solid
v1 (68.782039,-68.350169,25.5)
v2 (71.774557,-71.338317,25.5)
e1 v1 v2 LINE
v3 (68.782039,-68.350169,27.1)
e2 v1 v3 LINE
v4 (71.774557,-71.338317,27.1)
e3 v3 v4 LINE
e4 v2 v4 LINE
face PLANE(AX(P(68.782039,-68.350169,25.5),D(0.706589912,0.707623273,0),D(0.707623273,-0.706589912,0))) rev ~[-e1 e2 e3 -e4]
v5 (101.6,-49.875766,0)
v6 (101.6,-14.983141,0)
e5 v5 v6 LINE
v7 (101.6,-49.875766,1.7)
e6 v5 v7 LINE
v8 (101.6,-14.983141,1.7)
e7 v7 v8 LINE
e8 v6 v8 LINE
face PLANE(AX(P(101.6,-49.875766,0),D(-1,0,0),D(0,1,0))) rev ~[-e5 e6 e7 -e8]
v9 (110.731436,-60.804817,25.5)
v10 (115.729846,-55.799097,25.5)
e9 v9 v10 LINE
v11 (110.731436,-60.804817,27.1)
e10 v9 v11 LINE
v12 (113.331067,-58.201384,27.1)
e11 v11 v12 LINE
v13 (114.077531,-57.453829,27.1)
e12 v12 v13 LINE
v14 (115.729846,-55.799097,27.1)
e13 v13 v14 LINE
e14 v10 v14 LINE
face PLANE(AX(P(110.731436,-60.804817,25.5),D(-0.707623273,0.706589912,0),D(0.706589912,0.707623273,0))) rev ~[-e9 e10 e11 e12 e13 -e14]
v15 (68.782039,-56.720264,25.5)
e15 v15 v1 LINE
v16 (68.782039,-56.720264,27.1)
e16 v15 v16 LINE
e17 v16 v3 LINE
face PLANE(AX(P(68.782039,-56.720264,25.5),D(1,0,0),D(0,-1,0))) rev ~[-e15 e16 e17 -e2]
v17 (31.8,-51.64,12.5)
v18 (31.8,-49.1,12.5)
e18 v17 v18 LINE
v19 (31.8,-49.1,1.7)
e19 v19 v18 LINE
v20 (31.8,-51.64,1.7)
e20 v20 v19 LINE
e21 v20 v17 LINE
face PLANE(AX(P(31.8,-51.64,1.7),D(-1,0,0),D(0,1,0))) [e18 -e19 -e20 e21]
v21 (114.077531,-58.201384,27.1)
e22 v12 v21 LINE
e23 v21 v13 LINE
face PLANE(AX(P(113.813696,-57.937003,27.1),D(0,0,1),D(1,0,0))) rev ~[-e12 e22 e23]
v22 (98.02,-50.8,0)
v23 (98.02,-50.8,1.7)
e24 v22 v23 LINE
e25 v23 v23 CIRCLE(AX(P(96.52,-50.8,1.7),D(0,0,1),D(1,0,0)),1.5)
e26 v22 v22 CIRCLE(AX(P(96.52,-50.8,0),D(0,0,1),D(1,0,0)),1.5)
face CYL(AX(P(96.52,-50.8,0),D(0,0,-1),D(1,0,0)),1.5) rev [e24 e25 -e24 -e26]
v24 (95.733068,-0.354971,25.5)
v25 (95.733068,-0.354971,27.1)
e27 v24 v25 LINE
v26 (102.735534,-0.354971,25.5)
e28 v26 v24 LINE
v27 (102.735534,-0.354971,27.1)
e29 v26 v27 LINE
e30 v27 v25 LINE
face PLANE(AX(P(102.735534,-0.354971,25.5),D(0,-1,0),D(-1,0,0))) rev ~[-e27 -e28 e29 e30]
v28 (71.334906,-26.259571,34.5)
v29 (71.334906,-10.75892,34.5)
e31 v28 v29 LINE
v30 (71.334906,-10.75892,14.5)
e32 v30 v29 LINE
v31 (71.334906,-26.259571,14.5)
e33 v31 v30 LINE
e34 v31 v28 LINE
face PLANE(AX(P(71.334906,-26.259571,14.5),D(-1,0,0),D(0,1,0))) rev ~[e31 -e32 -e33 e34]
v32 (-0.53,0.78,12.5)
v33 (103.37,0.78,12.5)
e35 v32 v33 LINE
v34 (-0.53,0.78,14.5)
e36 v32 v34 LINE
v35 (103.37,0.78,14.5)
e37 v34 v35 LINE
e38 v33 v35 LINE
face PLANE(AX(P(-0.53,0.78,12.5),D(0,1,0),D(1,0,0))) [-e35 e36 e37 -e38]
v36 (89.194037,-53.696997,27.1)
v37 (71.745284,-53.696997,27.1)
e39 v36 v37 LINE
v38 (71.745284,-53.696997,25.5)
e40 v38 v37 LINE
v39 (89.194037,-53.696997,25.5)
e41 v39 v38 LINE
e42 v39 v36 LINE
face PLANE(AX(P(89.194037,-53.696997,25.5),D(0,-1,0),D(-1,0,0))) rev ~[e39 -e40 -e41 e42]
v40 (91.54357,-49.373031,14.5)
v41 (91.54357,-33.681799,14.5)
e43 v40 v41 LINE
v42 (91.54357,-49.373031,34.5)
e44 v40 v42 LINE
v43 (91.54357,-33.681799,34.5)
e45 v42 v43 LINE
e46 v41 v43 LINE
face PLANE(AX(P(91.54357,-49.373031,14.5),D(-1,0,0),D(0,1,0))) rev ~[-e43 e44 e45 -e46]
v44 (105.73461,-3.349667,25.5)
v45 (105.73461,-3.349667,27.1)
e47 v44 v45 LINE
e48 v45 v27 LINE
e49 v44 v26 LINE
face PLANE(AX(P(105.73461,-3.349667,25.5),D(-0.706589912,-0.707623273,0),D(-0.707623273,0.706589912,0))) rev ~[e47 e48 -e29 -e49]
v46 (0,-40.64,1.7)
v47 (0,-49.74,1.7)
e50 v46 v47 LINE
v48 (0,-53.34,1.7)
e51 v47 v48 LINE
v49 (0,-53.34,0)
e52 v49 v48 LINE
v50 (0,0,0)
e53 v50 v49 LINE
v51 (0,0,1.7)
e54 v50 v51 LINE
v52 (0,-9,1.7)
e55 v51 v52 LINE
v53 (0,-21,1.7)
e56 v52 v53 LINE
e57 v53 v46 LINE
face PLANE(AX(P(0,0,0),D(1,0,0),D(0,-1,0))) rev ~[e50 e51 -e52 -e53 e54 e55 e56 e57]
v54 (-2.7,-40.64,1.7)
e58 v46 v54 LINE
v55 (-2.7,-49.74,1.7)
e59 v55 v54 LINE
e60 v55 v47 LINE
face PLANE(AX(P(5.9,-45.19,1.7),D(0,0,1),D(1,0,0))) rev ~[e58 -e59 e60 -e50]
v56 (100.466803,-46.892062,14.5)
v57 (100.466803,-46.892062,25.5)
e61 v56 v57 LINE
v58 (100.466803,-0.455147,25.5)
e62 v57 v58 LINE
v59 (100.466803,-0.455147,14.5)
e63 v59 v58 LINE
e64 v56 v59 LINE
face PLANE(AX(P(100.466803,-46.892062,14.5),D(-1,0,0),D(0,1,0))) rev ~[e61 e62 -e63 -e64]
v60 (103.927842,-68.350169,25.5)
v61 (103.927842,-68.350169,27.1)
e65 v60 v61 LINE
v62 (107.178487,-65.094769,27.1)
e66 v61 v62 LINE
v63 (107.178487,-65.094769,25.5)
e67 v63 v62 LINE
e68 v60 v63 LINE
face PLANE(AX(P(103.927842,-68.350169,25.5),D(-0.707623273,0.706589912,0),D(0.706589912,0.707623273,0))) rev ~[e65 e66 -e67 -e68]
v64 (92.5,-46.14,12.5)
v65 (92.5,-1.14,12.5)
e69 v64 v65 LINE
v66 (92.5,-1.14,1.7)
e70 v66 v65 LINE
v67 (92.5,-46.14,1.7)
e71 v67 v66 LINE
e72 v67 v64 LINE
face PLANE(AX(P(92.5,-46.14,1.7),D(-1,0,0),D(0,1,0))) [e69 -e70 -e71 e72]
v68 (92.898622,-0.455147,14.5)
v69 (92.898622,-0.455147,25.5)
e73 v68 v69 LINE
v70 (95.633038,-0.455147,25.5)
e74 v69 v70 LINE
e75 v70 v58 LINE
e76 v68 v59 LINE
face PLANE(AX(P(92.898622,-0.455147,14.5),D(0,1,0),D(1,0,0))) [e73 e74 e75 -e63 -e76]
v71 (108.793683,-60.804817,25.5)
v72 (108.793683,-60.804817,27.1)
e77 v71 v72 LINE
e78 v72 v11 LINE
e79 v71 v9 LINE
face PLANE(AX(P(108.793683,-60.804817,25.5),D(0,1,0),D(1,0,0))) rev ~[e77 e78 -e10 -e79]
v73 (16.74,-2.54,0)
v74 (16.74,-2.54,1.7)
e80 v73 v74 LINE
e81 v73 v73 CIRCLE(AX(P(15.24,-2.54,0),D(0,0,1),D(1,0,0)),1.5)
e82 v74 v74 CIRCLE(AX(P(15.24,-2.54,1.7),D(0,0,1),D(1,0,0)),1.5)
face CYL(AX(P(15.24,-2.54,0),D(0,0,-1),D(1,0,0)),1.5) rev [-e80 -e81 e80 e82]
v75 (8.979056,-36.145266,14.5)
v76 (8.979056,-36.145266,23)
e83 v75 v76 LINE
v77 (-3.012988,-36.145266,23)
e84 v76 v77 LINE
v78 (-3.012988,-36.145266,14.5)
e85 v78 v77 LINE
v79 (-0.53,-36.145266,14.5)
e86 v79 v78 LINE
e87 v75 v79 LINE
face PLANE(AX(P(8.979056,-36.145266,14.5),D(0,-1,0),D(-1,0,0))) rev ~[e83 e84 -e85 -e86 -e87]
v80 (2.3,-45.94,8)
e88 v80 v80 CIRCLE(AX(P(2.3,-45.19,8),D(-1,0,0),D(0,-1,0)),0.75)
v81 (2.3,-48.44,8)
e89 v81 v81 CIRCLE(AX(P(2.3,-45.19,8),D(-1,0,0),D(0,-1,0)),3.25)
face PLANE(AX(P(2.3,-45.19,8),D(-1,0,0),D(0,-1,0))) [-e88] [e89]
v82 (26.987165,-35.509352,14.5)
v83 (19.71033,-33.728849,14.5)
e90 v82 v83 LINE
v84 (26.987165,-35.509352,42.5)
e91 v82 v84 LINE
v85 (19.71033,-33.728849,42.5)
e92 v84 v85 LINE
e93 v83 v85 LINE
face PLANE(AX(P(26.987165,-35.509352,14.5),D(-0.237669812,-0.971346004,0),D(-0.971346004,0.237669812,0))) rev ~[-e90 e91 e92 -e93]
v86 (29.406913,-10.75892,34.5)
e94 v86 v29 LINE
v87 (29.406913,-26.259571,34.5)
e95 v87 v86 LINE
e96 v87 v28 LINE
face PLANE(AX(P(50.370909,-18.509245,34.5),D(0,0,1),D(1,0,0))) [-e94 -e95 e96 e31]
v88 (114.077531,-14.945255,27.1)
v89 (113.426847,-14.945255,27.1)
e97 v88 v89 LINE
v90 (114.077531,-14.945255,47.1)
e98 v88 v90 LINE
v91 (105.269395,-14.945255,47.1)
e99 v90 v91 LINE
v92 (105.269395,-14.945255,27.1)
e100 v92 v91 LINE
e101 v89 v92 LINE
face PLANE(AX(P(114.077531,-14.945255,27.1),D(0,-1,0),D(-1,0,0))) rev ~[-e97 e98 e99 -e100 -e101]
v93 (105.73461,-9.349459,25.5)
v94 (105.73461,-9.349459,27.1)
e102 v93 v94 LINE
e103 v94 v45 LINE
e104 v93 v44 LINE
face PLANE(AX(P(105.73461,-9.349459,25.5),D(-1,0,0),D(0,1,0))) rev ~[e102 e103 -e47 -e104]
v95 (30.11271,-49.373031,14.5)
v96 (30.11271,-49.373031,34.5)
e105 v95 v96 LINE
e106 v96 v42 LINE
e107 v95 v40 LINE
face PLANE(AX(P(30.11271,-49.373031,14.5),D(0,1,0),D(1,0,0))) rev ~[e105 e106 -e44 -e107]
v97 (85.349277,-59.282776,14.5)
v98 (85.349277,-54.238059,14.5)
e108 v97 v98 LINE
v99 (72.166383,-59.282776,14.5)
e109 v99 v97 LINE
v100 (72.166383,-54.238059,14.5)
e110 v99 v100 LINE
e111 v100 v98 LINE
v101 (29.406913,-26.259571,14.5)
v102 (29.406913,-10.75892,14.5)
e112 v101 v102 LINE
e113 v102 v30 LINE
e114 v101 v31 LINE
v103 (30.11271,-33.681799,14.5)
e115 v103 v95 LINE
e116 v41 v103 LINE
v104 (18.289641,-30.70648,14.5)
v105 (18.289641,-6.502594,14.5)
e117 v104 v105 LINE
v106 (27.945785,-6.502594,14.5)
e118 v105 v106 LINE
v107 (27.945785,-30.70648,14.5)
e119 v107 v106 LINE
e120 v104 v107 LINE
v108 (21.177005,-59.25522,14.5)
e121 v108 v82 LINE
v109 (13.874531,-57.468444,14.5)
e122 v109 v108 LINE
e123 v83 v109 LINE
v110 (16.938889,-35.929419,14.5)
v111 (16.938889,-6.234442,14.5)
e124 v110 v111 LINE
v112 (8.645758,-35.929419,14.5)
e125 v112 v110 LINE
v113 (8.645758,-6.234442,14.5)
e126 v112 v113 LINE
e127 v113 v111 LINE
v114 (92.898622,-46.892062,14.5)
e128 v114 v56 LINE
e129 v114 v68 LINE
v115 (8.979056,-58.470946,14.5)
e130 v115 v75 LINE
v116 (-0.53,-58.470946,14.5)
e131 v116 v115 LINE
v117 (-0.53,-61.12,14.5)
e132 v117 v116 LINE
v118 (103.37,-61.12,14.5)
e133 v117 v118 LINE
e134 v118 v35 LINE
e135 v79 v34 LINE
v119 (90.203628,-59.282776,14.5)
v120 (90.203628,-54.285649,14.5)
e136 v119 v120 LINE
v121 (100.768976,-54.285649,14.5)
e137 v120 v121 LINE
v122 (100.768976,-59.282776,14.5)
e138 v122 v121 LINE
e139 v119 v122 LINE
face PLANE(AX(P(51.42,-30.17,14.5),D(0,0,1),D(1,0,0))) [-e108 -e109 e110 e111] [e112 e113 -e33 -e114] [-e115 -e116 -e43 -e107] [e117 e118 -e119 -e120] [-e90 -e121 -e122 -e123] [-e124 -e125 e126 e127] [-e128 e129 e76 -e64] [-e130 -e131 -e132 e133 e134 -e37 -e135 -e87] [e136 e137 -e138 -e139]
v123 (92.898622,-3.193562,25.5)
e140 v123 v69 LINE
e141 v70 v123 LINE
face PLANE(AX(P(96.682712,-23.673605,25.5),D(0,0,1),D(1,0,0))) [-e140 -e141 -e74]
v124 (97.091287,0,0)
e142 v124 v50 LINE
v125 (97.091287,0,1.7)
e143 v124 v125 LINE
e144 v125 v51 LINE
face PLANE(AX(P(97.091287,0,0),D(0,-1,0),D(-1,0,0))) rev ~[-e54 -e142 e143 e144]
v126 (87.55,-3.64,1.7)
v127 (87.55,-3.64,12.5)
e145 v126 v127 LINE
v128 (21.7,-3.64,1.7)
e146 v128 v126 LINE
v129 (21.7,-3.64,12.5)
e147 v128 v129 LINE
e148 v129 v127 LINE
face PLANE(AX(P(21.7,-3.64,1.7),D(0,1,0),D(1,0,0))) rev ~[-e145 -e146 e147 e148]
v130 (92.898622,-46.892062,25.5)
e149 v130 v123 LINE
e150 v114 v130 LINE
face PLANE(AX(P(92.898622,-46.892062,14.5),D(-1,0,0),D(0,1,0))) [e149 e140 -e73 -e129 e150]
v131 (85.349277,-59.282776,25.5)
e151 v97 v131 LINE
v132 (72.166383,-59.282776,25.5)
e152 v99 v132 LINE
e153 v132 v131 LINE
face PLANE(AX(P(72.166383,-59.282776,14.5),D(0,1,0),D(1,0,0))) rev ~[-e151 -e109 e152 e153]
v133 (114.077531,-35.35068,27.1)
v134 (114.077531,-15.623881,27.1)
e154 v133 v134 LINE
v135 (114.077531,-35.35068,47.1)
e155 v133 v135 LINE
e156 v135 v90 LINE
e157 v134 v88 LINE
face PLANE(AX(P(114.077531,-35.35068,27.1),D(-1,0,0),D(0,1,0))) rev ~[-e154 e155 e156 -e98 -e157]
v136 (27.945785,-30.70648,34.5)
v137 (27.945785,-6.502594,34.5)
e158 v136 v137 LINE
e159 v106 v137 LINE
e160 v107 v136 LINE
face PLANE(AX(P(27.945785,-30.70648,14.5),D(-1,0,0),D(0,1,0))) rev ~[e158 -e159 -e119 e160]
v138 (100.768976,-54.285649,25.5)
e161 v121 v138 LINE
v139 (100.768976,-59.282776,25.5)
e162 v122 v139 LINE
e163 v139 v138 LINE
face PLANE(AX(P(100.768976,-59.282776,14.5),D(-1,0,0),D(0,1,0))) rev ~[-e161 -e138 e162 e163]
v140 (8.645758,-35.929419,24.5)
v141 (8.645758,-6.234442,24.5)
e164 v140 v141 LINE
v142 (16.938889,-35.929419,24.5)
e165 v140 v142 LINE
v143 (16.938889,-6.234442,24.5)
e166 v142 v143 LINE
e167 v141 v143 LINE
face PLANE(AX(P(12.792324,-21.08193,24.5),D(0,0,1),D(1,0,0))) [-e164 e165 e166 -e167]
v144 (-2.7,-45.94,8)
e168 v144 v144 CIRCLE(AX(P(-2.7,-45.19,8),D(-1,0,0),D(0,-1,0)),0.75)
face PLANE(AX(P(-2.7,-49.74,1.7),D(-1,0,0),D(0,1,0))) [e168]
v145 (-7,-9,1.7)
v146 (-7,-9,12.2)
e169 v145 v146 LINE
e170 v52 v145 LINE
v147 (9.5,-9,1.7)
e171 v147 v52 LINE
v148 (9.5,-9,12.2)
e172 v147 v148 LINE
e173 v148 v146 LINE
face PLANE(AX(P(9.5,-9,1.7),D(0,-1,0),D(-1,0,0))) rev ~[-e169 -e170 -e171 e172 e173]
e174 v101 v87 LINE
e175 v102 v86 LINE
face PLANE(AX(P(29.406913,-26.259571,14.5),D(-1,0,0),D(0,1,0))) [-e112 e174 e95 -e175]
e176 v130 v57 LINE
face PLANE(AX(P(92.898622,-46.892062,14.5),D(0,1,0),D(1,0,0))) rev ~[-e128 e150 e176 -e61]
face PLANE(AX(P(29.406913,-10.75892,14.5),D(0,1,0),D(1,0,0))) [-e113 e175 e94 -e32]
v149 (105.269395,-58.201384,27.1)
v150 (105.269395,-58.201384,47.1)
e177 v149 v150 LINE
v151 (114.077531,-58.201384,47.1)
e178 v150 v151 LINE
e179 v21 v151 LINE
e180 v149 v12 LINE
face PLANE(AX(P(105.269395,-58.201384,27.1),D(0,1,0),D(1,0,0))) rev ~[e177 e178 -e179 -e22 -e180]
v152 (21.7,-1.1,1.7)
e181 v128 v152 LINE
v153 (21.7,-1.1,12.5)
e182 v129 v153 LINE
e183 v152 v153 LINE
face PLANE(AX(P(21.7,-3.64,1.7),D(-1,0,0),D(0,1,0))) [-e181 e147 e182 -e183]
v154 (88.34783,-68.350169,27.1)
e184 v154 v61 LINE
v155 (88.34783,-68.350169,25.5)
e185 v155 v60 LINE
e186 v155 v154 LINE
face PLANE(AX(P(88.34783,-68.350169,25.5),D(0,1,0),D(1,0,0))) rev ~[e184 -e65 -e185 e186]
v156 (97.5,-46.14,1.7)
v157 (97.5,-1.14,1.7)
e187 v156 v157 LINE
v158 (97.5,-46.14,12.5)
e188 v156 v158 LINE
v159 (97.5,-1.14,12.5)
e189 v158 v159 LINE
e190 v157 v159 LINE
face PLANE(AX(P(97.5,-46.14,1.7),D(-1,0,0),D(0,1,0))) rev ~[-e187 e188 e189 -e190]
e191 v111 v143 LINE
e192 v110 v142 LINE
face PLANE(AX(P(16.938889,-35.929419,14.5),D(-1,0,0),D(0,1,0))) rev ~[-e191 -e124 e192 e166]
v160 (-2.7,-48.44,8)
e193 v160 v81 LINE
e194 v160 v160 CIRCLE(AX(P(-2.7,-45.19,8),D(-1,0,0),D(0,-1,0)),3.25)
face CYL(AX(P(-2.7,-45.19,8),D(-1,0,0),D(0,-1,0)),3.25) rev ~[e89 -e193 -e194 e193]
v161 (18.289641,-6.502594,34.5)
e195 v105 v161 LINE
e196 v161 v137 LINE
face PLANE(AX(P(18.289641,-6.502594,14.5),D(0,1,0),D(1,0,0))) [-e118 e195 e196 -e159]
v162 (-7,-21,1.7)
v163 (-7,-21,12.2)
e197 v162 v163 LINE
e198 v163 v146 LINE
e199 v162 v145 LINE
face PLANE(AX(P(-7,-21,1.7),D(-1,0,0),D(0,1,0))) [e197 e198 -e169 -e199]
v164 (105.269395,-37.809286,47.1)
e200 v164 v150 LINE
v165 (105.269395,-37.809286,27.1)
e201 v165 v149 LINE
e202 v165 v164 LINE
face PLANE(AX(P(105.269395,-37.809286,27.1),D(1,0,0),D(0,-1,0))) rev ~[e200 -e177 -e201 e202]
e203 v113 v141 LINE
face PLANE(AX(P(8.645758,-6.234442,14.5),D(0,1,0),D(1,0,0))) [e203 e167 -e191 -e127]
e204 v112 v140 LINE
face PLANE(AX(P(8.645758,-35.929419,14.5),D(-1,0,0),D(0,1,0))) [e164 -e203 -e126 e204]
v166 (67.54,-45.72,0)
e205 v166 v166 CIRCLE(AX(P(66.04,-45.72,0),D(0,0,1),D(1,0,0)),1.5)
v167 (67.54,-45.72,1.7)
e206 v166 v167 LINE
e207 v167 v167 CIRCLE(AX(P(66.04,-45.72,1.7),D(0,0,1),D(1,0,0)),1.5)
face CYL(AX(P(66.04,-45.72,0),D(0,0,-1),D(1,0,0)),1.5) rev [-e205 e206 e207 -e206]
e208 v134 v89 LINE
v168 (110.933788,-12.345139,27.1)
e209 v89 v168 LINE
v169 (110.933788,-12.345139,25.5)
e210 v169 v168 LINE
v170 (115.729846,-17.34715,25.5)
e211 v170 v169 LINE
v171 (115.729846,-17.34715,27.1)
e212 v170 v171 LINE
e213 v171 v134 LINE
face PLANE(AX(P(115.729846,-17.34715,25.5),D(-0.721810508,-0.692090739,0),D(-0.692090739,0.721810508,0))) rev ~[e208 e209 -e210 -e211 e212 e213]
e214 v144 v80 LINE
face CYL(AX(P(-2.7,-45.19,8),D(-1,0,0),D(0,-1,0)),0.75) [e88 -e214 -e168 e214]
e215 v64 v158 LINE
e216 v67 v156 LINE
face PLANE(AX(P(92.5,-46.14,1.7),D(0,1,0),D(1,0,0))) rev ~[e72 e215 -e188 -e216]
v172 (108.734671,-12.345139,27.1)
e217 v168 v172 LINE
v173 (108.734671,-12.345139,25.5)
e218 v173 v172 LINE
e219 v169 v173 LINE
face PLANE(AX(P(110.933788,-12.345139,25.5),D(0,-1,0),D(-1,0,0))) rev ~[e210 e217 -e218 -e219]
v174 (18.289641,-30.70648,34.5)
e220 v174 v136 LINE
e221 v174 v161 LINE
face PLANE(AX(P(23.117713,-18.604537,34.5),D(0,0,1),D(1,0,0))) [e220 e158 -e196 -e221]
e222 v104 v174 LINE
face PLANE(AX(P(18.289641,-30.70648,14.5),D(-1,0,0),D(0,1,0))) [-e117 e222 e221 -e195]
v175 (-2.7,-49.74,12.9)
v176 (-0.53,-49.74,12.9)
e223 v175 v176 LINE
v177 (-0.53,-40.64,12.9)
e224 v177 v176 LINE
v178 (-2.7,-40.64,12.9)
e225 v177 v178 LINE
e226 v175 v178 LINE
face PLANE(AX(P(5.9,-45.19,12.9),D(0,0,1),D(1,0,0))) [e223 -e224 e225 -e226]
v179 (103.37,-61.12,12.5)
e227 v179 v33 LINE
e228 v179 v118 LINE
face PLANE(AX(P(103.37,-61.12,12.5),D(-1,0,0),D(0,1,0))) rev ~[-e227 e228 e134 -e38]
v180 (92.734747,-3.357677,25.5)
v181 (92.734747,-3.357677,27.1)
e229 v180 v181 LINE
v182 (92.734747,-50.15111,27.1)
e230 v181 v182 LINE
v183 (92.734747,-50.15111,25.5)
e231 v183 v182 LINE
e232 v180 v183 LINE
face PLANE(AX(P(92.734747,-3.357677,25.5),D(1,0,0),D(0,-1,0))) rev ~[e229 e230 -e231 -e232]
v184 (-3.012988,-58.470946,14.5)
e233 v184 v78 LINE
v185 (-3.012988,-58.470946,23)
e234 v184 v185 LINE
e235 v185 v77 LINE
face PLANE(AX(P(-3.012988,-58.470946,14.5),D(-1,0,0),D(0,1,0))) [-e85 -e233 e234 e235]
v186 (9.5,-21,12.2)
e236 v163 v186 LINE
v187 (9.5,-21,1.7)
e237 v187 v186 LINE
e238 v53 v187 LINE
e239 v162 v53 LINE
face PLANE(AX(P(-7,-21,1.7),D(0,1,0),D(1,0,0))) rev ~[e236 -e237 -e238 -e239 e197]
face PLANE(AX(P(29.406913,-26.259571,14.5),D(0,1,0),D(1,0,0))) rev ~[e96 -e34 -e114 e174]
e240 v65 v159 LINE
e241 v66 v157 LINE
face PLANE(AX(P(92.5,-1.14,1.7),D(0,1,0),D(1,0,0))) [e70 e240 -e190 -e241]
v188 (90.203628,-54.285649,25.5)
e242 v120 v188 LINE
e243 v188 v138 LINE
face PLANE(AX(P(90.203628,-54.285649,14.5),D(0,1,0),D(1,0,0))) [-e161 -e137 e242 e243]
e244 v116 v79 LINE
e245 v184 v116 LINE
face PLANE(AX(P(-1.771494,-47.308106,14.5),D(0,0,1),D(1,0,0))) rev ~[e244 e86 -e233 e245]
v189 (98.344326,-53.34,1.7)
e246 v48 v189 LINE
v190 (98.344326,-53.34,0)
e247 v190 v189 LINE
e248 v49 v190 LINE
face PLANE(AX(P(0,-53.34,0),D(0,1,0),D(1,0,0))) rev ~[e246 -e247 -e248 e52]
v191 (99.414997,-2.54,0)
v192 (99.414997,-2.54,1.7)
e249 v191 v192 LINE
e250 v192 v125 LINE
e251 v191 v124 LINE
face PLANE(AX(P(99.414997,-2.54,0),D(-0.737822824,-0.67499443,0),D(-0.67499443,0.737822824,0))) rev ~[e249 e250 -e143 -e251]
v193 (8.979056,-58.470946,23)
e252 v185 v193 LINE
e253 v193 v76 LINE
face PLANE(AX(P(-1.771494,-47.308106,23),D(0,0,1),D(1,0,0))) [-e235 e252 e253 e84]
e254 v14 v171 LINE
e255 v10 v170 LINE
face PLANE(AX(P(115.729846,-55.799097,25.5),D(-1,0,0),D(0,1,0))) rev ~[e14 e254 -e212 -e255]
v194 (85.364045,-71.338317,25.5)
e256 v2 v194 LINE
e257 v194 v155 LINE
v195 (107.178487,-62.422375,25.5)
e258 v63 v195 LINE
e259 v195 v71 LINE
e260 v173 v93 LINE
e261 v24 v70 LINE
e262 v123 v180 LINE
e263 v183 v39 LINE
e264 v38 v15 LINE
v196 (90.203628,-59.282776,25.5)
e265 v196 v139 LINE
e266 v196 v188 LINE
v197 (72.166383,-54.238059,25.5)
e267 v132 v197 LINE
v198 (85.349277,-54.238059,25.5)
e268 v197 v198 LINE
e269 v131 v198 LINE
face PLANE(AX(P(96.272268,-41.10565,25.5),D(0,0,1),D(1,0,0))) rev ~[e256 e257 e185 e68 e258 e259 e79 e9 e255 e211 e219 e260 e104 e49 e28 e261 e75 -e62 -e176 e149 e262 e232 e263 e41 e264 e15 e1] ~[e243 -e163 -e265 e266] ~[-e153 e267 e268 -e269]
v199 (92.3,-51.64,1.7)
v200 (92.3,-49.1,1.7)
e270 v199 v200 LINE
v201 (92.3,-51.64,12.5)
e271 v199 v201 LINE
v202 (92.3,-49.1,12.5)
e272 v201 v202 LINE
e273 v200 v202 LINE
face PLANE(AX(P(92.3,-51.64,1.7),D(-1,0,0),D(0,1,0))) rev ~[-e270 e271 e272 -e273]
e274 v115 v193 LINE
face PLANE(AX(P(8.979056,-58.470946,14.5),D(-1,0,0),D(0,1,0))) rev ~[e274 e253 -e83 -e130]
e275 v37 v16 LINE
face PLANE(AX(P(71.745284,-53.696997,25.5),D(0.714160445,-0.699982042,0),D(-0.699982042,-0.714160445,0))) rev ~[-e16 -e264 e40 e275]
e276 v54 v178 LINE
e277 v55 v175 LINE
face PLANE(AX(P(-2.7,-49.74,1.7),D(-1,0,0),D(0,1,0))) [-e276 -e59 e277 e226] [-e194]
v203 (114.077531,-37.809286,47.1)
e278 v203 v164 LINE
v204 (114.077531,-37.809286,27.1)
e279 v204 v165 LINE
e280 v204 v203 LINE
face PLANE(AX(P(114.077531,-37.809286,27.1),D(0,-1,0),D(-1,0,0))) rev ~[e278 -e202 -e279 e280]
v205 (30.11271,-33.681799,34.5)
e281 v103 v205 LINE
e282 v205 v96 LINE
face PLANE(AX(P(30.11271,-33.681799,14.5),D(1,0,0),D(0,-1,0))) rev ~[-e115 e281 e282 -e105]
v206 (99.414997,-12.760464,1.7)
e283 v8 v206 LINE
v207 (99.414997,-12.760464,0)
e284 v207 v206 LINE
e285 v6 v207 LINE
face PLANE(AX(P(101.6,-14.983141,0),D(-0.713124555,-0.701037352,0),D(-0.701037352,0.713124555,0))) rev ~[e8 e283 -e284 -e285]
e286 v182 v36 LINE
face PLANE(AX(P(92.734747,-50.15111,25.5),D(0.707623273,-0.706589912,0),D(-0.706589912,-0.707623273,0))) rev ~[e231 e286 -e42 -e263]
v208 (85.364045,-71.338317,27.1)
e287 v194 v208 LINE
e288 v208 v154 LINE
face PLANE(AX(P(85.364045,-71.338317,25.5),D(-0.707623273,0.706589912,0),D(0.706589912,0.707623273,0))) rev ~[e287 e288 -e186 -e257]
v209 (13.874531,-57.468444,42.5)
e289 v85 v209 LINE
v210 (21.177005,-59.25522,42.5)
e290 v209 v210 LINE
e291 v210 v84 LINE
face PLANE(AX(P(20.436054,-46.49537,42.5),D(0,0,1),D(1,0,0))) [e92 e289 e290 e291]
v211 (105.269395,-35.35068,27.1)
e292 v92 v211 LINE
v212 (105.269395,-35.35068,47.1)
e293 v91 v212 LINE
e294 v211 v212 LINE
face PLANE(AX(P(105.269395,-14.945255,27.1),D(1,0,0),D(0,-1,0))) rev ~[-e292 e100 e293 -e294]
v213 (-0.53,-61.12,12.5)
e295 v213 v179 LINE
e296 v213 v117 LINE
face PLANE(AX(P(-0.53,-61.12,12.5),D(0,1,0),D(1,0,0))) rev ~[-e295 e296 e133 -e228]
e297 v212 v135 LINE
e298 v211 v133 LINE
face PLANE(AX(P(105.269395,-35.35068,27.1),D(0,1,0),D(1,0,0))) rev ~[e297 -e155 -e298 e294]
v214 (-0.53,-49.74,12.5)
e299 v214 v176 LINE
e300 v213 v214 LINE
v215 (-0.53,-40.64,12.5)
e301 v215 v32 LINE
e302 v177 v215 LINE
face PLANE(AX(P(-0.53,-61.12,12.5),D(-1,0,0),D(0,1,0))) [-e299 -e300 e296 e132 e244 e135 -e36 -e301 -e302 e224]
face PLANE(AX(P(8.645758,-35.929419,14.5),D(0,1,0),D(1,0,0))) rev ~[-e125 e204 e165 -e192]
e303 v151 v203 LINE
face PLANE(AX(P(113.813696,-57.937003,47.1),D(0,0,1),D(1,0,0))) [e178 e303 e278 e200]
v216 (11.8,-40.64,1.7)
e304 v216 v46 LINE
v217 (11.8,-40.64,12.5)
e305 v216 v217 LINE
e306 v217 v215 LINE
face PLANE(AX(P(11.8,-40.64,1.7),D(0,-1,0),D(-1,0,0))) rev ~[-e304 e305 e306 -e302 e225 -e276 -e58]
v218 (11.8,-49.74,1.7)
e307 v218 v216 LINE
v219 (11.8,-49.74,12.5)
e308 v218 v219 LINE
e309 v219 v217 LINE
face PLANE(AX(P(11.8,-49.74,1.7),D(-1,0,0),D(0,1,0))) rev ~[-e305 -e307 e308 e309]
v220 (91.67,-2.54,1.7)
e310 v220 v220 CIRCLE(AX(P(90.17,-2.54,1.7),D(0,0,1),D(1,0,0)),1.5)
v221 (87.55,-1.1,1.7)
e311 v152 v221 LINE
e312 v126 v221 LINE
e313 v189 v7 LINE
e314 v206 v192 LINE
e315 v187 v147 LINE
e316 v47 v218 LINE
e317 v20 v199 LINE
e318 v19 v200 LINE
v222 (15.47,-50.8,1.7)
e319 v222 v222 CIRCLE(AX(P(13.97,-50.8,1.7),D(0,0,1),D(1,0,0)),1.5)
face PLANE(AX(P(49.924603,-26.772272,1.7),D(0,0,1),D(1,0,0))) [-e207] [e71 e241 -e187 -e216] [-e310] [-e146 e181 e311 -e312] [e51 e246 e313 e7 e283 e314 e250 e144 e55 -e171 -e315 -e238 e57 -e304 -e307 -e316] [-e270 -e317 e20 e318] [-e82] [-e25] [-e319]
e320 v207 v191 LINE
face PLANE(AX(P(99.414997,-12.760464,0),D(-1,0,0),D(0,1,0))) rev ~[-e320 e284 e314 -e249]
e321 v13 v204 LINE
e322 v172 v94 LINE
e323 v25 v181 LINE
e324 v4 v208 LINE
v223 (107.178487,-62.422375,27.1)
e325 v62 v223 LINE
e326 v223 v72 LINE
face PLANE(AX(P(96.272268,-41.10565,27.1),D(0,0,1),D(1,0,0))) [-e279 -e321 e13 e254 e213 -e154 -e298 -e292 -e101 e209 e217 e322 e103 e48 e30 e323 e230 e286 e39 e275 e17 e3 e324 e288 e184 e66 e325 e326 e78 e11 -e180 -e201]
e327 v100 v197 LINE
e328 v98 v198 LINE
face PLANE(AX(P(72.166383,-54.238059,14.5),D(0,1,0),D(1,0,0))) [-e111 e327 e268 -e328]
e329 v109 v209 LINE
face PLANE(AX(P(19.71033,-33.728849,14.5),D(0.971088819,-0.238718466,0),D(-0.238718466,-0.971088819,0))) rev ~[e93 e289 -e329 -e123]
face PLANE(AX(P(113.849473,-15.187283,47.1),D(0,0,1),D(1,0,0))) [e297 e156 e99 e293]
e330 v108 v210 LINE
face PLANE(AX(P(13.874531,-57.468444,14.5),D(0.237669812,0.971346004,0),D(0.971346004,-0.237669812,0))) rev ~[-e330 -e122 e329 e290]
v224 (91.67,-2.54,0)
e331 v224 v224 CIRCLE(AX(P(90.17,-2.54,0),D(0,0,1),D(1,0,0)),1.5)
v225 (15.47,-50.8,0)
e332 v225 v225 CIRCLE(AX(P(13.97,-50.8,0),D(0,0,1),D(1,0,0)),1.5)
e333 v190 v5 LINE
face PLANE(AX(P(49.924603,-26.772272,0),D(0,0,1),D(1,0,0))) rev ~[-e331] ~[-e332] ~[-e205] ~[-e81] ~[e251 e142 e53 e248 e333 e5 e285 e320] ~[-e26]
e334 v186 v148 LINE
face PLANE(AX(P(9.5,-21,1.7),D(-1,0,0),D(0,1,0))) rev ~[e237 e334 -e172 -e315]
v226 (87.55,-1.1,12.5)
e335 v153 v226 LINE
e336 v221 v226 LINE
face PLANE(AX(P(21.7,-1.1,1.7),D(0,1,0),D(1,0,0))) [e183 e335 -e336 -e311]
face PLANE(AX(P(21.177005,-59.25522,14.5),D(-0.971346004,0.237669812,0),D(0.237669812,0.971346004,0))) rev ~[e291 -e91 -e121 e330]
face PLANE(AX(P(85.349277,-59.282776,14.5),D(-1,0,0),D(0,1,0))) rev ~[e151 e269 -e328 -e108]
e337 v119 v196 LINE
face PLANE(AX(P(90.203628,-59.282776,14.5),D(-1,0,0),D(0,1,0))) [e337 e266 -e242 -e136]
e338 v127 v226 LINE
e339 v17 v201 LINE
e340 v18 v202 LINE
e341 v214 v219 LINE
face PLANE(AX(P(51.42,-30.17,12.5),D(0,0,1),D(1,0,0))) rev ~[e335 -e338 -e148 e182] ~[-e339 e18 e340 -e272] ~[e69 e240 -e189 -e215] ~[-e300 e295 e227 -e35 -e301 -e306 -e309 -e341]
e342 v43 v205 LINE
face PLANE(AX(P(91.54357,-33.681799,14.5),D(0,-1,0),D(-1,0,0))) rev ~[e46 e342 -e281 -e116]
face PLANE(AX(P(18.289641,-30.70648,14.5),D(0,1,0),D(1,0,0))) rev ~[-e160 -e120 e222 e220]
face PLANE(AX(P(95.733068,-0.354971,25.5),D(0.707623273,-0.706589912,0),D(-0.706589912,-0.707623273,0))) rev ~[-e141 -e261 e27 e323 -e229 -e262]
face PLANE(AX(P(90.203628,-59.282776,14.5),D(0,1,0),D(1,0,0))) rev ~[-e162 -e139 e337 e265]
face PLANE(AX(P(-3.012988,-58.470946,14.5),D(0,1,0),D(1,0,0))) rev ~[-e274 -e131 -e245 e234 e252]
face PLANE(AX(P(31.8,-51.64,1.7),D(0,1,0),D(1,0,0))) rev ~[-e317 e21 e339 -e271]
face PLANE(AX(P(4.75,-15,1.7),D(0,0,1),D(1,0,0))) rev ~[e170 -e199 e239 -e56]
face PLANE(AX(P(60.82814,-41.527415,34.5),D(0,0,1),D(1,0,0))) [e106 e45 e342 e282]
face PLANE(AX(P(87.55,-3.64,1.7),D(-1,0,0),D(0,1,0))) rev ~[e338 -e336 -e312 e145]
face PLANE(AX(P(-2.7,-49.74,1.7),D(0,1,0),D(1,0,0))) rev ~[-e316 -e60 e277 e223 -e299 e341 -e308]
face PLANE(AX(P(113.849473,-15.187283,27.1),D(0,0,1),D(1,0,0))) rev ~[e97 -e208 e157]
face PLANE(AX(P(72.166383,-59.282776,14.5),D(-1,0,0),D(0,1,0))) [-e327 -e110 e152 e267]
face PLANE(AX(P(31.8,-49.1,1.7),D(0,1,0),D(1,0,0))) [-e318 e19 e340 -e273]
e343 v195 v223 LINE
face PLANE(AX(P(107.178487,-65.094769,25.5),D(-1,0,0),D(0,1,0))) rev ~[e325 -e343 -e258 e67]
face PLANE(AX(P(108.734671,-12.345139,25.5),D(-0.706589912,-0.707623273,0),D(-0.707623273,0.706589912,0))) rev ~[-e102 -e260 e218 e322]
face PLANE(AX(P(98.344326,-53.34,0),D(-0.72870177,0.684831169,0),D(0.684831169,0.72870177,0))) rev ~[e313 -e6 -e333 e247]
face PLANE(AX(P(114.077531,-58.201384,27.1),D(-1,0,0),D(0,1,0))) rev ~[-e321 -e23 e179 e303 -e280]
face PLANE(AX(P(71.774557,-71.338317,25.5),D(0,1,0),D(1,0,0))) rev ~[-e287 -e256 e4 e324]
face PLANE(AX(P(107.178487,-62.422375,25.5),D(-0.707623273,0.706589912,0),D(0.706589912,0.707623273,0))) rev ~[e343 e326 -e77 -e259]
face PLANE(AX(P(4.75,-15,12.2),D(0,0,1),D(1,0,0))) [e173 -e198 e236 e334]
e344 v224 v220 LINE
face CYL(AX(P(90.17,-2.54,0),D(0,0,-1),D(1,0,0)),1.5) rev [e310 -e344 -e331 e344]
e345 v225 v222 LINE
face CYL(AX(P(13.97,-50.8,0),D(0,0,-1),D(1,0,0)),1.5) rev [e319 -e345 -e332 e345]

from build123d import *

# Parameters (mm, degrees)
F0_R      = 1.5
F1_DEPTH  = 1.7
F2_W      = 11.8
F2_H      = 9.1
F2_W_2    = 2.7
F3_DEPTH  = 11.2
F4_R      = 3.25
F4_R_2    = 0.75
F5_DEPTH  = 5
F2_W_3    = 9.5
F2_H_2    = 12
F2_W_4    = 7
F6_DEPTH  = 10.5
F2_W_5    = 65.85
F2_H_3    = 2.54
F2_W_6    = 5
F2_H_4    = 45
F2_W_7    = 60.5
F7_DEPTH  = 10.8
F9_W      = 103.9
F9_H      = 61.9
F10_DEPTH = 2
F11_W     = 2.4829882507
F11_H     = 22.3256796598
F11_W_2   = 9.5090560305
F12_DEPTH = 8.5
F11_W_3   = 8.2931313664
F11_H_2   = 29.6949772164
F13_DEPTH = 10
F11_W_4   = 9.6561443061
F11_H_3   = 24.203886278
F14_DEPTH = 20
F15_DEPTH = 28
F11_W_5   = 41.9279932976
F11_H_4   = 15.5006516725
F16_DEPTH = 20
F11_W_6   = 13.1828933954
F11_H_5   = 5.0447173417
F11_W_7   = 10.5653479695
F11_H_6   = 4.9971267581
F11_W_8   = 7.5681805611
F11_H_7   = 46.4369145338
F17_DEPTH = 11
F20_DEPTH = 1.6
F22_DEPTH = 20


with BuildPart() as f1:
    # F0 (on Top) → F1 (new body)
    with BuildSketch(Plane.XY):
        Polygon((97.0912873745, 0), (0, 0), (0, -53.34), (98.3443260193, -53.34), (101.6, -49.8757660389), (101.6, -14.9831408635), (99.4149968028, -12.760464102), (99.4149968028, -2.54), align=None)
        with Locations((13.97, -50.8)):
            Circle(F0_R, mode=Mode.SUBTRACT)
        with Locations((66.04, -45.72)):
            Circle(F0_R, mode=Mode.SUBTRACT)
        with Locations((96.52, -50.8)):
            Circle(F0_R, mode=Mode.SUBTRACT)
        with Locations((15.24, -2.54)):
            Circle(F0_R, mode=Mode.SUBTRACT)
        with Locations((90.17, -2.54)):
            Circle(F0_R, mode=Mode.SUBTRACT)
    extrude(amount=F1_DEPTH)

    # F2 (on face) → F3 (join)
    with BuildSketch(Plane.XY.offset(1.7)):
        with Locations((5.9, -45.19)):
            Rectangle(F2_W, F2_H)
        with Locations((-1.35, -45.19)):
            Rectangle(F2_W_2, F2_H)
    extrude(amount=F3_DEPTH)

    # F4 (on face) → F5 (cut)
    with BuildSketch(Plane(origin=(-2.7, 0, 0), x_dir=(0, -1, 0), z_dir=(-1, 0, 0))):
        with Locations((45.19, 8)):
            Circle(F4_R)
        with Locations((45.19, 8)):
            Circle(F4_R_2, mode=Mode.SUBTRACT)
    extrude(amount=-F5_DEPTH, mode=Mode.SUBTRACT)

    # F2 (on face) → F6 (join)
    with BuildSketch(Plane.XY.offset(1.7)):
        with Locations((4.75, -15)):
            Rectangle(F2_W_3, F2_H_2)
        with Locations((-3.5, -15)):
            Rectangle(F2_W_4, F2_H_2)
    extrude(amount=F6_DEPTH)

    # F2 (on face) → F7 (join)
    with BuildSketch(Plane.XY.offset(1.7)):
        with Locations((54.625, -2.37)):
            Rectangle(F2_W_5, F2_H_3)
        with Locations((95, -23.64)):
            Rectangle(F2_W_6, F2_H_4)
        with Locations((62.05, -50.37)):
            Rectangle(F2_W_7, F2_H_3)
    extrude(amount=F7_DEPTH)

    # F9 (on offset) → F10 (join)
    with BuildSketch(Plane.XY.offset(12.5)):
        with Locations((51.42, -30.17)):
            Rectangle(F9_W, F9_H)
    extrude(amount=F10_DEPTH)

    # F11 (on face) → F12 (join)
    with BuildSketch(Plane.XY.offset(14.5)):
        with Locations((-1.7714941254, -47.3081059754)):
            Rectangle(F11_W, F11_H)
        with Locations((4.2245280153, -47.3081059754)):
            Rectangle(F11_W_2, F11_H)
    extrude(amount=F12_DEPTH)

    # F11 (on face) → F13 (join)
    with BuildSketch(Plane.XY.offset(14.5)):
        with Locations((12.792323716, -21.0819304921)):
            Rectangle(F11_W_3, F11_H_2)
    extrude(amount=F13_DEPTH)

    # F11 (on face) → F14 (join)
    with BuildSketch(Plane.XY.offset(14.5)):
        with Locations((23.1177126989, -18.6045370065)):
            Rectangle(F11_W_4, F11_H_3)
    extrude(amount=F14_DEPTH)

    # F11 (on face) → F15 (join)
    with BuildSketch(Plane.XY.offset(14.5)):
        Polygon((26.9871652126, -35.5093516409), (19.7103302926, -33.7288491428), (13.8745306454, -57.4684444644), (21.1770047413, -59.2552203791), align=None)
    extrude(amount=F15_DEPTH)

    # F11 (on face) → F16 (join)
    with BuildSketch(Plane.XY.offset(14.5)):
        Polygon((30.1127098501, -33.6817987263), (30.1127098501, -49.3730306625), (91.5435701609, -49.3730306625), (91.5435701609, -33.6817987263), (86.4100605249, -33.6817987263), (76.222717762, -33.6817987263), align=None)
        with Locations((50.3709092736, -18.5092454776)):
            Rectangle(F11_W_5, F11_H_4)
    extrude(amount=F16_DEPTH)

    # F11 (on face) → F17 (join)
    with BuildSketch(Plane.XY.offset(14.5)):
        with Locations((78.7578299642, -56.7604172975)):
            Rectangle(F11_W_6, F11_H_5)
        with Locations((95.4863019288, -56.7842125893)):
            Rectangle(F11_W_7, F11_H_6)
        with Locations((96.6827124357, -23.6736045626)):
            Rectangle(F11_W_8, F11_H_7)
    extrude(amount=F17_DEPTH)

    # F19 (on offset) → F20 (join)
    with BuildSketch(Plane.XY.offset(25.5)):
        Polygon((92.734746635, -50.1511096954), (89.1940370202, -53.6969974637), (71.7452839017, -53.6969974637), (68.7820387674, -56.720264256), (68.7820387674, -68.3501685575), (71.7745572329, -71.3383169692), (85.3640451386, -71.3383169692), (88.3478298783, -68.3501685575), (103.9278417004, -68.3501685575), (107.1784873109, -65.094769001), (107.1784873109, -62.4223748591), (108.7936833501, -60.804816657), (110.7314362108, -60.804816657), (115.7298460603, -55.7990968227), (115.7298460603, -17.3471495509), (110.9337881207, -12.3451392372), (108.7346714968, -12.3451392372), (105.7346100416, -9.3494588509), (105.7346100416, -3.3496673639), (102.7355343103, -0.3549712621), (95.7330679293, -0.3549712621), (92.734746635, -3.3576774877), align=None)
    extrude(amount=F20_DEPTH)

    # F21 (on face) → F22 (join)
    with BuildSketch(Plane.XY.offset(27.1)):
        Polygon((113.4268465994, -14.9452546611), (114.0775308013, -15.6238805514), (114.0775308013, -14.9452546611), align=None)
        Polygon((105.269394815, -14.9452546611), (105.269394815, -35.3506803513), (114.0775308013, -35.3506803513), (114.0775308013, -15.6238805514), (113.4268465994, -14.9452546611), align=None)
        Polygon((114.0775308013, -58.2013837993), (114.0775308013, -57.4538285301), (113.3310672068, -58.2013837993), align=None)
        Polygon((113.3310672068, -58.2013837993), (114.0775308013, -57.4538285301), (114.0775308013, -37.8092862666), (105.269394815, -37.8092862666), (105.269394815, -58.2013837993), align=None)
    extrude(amount=F22_DEPTH)


solid = f1.part
